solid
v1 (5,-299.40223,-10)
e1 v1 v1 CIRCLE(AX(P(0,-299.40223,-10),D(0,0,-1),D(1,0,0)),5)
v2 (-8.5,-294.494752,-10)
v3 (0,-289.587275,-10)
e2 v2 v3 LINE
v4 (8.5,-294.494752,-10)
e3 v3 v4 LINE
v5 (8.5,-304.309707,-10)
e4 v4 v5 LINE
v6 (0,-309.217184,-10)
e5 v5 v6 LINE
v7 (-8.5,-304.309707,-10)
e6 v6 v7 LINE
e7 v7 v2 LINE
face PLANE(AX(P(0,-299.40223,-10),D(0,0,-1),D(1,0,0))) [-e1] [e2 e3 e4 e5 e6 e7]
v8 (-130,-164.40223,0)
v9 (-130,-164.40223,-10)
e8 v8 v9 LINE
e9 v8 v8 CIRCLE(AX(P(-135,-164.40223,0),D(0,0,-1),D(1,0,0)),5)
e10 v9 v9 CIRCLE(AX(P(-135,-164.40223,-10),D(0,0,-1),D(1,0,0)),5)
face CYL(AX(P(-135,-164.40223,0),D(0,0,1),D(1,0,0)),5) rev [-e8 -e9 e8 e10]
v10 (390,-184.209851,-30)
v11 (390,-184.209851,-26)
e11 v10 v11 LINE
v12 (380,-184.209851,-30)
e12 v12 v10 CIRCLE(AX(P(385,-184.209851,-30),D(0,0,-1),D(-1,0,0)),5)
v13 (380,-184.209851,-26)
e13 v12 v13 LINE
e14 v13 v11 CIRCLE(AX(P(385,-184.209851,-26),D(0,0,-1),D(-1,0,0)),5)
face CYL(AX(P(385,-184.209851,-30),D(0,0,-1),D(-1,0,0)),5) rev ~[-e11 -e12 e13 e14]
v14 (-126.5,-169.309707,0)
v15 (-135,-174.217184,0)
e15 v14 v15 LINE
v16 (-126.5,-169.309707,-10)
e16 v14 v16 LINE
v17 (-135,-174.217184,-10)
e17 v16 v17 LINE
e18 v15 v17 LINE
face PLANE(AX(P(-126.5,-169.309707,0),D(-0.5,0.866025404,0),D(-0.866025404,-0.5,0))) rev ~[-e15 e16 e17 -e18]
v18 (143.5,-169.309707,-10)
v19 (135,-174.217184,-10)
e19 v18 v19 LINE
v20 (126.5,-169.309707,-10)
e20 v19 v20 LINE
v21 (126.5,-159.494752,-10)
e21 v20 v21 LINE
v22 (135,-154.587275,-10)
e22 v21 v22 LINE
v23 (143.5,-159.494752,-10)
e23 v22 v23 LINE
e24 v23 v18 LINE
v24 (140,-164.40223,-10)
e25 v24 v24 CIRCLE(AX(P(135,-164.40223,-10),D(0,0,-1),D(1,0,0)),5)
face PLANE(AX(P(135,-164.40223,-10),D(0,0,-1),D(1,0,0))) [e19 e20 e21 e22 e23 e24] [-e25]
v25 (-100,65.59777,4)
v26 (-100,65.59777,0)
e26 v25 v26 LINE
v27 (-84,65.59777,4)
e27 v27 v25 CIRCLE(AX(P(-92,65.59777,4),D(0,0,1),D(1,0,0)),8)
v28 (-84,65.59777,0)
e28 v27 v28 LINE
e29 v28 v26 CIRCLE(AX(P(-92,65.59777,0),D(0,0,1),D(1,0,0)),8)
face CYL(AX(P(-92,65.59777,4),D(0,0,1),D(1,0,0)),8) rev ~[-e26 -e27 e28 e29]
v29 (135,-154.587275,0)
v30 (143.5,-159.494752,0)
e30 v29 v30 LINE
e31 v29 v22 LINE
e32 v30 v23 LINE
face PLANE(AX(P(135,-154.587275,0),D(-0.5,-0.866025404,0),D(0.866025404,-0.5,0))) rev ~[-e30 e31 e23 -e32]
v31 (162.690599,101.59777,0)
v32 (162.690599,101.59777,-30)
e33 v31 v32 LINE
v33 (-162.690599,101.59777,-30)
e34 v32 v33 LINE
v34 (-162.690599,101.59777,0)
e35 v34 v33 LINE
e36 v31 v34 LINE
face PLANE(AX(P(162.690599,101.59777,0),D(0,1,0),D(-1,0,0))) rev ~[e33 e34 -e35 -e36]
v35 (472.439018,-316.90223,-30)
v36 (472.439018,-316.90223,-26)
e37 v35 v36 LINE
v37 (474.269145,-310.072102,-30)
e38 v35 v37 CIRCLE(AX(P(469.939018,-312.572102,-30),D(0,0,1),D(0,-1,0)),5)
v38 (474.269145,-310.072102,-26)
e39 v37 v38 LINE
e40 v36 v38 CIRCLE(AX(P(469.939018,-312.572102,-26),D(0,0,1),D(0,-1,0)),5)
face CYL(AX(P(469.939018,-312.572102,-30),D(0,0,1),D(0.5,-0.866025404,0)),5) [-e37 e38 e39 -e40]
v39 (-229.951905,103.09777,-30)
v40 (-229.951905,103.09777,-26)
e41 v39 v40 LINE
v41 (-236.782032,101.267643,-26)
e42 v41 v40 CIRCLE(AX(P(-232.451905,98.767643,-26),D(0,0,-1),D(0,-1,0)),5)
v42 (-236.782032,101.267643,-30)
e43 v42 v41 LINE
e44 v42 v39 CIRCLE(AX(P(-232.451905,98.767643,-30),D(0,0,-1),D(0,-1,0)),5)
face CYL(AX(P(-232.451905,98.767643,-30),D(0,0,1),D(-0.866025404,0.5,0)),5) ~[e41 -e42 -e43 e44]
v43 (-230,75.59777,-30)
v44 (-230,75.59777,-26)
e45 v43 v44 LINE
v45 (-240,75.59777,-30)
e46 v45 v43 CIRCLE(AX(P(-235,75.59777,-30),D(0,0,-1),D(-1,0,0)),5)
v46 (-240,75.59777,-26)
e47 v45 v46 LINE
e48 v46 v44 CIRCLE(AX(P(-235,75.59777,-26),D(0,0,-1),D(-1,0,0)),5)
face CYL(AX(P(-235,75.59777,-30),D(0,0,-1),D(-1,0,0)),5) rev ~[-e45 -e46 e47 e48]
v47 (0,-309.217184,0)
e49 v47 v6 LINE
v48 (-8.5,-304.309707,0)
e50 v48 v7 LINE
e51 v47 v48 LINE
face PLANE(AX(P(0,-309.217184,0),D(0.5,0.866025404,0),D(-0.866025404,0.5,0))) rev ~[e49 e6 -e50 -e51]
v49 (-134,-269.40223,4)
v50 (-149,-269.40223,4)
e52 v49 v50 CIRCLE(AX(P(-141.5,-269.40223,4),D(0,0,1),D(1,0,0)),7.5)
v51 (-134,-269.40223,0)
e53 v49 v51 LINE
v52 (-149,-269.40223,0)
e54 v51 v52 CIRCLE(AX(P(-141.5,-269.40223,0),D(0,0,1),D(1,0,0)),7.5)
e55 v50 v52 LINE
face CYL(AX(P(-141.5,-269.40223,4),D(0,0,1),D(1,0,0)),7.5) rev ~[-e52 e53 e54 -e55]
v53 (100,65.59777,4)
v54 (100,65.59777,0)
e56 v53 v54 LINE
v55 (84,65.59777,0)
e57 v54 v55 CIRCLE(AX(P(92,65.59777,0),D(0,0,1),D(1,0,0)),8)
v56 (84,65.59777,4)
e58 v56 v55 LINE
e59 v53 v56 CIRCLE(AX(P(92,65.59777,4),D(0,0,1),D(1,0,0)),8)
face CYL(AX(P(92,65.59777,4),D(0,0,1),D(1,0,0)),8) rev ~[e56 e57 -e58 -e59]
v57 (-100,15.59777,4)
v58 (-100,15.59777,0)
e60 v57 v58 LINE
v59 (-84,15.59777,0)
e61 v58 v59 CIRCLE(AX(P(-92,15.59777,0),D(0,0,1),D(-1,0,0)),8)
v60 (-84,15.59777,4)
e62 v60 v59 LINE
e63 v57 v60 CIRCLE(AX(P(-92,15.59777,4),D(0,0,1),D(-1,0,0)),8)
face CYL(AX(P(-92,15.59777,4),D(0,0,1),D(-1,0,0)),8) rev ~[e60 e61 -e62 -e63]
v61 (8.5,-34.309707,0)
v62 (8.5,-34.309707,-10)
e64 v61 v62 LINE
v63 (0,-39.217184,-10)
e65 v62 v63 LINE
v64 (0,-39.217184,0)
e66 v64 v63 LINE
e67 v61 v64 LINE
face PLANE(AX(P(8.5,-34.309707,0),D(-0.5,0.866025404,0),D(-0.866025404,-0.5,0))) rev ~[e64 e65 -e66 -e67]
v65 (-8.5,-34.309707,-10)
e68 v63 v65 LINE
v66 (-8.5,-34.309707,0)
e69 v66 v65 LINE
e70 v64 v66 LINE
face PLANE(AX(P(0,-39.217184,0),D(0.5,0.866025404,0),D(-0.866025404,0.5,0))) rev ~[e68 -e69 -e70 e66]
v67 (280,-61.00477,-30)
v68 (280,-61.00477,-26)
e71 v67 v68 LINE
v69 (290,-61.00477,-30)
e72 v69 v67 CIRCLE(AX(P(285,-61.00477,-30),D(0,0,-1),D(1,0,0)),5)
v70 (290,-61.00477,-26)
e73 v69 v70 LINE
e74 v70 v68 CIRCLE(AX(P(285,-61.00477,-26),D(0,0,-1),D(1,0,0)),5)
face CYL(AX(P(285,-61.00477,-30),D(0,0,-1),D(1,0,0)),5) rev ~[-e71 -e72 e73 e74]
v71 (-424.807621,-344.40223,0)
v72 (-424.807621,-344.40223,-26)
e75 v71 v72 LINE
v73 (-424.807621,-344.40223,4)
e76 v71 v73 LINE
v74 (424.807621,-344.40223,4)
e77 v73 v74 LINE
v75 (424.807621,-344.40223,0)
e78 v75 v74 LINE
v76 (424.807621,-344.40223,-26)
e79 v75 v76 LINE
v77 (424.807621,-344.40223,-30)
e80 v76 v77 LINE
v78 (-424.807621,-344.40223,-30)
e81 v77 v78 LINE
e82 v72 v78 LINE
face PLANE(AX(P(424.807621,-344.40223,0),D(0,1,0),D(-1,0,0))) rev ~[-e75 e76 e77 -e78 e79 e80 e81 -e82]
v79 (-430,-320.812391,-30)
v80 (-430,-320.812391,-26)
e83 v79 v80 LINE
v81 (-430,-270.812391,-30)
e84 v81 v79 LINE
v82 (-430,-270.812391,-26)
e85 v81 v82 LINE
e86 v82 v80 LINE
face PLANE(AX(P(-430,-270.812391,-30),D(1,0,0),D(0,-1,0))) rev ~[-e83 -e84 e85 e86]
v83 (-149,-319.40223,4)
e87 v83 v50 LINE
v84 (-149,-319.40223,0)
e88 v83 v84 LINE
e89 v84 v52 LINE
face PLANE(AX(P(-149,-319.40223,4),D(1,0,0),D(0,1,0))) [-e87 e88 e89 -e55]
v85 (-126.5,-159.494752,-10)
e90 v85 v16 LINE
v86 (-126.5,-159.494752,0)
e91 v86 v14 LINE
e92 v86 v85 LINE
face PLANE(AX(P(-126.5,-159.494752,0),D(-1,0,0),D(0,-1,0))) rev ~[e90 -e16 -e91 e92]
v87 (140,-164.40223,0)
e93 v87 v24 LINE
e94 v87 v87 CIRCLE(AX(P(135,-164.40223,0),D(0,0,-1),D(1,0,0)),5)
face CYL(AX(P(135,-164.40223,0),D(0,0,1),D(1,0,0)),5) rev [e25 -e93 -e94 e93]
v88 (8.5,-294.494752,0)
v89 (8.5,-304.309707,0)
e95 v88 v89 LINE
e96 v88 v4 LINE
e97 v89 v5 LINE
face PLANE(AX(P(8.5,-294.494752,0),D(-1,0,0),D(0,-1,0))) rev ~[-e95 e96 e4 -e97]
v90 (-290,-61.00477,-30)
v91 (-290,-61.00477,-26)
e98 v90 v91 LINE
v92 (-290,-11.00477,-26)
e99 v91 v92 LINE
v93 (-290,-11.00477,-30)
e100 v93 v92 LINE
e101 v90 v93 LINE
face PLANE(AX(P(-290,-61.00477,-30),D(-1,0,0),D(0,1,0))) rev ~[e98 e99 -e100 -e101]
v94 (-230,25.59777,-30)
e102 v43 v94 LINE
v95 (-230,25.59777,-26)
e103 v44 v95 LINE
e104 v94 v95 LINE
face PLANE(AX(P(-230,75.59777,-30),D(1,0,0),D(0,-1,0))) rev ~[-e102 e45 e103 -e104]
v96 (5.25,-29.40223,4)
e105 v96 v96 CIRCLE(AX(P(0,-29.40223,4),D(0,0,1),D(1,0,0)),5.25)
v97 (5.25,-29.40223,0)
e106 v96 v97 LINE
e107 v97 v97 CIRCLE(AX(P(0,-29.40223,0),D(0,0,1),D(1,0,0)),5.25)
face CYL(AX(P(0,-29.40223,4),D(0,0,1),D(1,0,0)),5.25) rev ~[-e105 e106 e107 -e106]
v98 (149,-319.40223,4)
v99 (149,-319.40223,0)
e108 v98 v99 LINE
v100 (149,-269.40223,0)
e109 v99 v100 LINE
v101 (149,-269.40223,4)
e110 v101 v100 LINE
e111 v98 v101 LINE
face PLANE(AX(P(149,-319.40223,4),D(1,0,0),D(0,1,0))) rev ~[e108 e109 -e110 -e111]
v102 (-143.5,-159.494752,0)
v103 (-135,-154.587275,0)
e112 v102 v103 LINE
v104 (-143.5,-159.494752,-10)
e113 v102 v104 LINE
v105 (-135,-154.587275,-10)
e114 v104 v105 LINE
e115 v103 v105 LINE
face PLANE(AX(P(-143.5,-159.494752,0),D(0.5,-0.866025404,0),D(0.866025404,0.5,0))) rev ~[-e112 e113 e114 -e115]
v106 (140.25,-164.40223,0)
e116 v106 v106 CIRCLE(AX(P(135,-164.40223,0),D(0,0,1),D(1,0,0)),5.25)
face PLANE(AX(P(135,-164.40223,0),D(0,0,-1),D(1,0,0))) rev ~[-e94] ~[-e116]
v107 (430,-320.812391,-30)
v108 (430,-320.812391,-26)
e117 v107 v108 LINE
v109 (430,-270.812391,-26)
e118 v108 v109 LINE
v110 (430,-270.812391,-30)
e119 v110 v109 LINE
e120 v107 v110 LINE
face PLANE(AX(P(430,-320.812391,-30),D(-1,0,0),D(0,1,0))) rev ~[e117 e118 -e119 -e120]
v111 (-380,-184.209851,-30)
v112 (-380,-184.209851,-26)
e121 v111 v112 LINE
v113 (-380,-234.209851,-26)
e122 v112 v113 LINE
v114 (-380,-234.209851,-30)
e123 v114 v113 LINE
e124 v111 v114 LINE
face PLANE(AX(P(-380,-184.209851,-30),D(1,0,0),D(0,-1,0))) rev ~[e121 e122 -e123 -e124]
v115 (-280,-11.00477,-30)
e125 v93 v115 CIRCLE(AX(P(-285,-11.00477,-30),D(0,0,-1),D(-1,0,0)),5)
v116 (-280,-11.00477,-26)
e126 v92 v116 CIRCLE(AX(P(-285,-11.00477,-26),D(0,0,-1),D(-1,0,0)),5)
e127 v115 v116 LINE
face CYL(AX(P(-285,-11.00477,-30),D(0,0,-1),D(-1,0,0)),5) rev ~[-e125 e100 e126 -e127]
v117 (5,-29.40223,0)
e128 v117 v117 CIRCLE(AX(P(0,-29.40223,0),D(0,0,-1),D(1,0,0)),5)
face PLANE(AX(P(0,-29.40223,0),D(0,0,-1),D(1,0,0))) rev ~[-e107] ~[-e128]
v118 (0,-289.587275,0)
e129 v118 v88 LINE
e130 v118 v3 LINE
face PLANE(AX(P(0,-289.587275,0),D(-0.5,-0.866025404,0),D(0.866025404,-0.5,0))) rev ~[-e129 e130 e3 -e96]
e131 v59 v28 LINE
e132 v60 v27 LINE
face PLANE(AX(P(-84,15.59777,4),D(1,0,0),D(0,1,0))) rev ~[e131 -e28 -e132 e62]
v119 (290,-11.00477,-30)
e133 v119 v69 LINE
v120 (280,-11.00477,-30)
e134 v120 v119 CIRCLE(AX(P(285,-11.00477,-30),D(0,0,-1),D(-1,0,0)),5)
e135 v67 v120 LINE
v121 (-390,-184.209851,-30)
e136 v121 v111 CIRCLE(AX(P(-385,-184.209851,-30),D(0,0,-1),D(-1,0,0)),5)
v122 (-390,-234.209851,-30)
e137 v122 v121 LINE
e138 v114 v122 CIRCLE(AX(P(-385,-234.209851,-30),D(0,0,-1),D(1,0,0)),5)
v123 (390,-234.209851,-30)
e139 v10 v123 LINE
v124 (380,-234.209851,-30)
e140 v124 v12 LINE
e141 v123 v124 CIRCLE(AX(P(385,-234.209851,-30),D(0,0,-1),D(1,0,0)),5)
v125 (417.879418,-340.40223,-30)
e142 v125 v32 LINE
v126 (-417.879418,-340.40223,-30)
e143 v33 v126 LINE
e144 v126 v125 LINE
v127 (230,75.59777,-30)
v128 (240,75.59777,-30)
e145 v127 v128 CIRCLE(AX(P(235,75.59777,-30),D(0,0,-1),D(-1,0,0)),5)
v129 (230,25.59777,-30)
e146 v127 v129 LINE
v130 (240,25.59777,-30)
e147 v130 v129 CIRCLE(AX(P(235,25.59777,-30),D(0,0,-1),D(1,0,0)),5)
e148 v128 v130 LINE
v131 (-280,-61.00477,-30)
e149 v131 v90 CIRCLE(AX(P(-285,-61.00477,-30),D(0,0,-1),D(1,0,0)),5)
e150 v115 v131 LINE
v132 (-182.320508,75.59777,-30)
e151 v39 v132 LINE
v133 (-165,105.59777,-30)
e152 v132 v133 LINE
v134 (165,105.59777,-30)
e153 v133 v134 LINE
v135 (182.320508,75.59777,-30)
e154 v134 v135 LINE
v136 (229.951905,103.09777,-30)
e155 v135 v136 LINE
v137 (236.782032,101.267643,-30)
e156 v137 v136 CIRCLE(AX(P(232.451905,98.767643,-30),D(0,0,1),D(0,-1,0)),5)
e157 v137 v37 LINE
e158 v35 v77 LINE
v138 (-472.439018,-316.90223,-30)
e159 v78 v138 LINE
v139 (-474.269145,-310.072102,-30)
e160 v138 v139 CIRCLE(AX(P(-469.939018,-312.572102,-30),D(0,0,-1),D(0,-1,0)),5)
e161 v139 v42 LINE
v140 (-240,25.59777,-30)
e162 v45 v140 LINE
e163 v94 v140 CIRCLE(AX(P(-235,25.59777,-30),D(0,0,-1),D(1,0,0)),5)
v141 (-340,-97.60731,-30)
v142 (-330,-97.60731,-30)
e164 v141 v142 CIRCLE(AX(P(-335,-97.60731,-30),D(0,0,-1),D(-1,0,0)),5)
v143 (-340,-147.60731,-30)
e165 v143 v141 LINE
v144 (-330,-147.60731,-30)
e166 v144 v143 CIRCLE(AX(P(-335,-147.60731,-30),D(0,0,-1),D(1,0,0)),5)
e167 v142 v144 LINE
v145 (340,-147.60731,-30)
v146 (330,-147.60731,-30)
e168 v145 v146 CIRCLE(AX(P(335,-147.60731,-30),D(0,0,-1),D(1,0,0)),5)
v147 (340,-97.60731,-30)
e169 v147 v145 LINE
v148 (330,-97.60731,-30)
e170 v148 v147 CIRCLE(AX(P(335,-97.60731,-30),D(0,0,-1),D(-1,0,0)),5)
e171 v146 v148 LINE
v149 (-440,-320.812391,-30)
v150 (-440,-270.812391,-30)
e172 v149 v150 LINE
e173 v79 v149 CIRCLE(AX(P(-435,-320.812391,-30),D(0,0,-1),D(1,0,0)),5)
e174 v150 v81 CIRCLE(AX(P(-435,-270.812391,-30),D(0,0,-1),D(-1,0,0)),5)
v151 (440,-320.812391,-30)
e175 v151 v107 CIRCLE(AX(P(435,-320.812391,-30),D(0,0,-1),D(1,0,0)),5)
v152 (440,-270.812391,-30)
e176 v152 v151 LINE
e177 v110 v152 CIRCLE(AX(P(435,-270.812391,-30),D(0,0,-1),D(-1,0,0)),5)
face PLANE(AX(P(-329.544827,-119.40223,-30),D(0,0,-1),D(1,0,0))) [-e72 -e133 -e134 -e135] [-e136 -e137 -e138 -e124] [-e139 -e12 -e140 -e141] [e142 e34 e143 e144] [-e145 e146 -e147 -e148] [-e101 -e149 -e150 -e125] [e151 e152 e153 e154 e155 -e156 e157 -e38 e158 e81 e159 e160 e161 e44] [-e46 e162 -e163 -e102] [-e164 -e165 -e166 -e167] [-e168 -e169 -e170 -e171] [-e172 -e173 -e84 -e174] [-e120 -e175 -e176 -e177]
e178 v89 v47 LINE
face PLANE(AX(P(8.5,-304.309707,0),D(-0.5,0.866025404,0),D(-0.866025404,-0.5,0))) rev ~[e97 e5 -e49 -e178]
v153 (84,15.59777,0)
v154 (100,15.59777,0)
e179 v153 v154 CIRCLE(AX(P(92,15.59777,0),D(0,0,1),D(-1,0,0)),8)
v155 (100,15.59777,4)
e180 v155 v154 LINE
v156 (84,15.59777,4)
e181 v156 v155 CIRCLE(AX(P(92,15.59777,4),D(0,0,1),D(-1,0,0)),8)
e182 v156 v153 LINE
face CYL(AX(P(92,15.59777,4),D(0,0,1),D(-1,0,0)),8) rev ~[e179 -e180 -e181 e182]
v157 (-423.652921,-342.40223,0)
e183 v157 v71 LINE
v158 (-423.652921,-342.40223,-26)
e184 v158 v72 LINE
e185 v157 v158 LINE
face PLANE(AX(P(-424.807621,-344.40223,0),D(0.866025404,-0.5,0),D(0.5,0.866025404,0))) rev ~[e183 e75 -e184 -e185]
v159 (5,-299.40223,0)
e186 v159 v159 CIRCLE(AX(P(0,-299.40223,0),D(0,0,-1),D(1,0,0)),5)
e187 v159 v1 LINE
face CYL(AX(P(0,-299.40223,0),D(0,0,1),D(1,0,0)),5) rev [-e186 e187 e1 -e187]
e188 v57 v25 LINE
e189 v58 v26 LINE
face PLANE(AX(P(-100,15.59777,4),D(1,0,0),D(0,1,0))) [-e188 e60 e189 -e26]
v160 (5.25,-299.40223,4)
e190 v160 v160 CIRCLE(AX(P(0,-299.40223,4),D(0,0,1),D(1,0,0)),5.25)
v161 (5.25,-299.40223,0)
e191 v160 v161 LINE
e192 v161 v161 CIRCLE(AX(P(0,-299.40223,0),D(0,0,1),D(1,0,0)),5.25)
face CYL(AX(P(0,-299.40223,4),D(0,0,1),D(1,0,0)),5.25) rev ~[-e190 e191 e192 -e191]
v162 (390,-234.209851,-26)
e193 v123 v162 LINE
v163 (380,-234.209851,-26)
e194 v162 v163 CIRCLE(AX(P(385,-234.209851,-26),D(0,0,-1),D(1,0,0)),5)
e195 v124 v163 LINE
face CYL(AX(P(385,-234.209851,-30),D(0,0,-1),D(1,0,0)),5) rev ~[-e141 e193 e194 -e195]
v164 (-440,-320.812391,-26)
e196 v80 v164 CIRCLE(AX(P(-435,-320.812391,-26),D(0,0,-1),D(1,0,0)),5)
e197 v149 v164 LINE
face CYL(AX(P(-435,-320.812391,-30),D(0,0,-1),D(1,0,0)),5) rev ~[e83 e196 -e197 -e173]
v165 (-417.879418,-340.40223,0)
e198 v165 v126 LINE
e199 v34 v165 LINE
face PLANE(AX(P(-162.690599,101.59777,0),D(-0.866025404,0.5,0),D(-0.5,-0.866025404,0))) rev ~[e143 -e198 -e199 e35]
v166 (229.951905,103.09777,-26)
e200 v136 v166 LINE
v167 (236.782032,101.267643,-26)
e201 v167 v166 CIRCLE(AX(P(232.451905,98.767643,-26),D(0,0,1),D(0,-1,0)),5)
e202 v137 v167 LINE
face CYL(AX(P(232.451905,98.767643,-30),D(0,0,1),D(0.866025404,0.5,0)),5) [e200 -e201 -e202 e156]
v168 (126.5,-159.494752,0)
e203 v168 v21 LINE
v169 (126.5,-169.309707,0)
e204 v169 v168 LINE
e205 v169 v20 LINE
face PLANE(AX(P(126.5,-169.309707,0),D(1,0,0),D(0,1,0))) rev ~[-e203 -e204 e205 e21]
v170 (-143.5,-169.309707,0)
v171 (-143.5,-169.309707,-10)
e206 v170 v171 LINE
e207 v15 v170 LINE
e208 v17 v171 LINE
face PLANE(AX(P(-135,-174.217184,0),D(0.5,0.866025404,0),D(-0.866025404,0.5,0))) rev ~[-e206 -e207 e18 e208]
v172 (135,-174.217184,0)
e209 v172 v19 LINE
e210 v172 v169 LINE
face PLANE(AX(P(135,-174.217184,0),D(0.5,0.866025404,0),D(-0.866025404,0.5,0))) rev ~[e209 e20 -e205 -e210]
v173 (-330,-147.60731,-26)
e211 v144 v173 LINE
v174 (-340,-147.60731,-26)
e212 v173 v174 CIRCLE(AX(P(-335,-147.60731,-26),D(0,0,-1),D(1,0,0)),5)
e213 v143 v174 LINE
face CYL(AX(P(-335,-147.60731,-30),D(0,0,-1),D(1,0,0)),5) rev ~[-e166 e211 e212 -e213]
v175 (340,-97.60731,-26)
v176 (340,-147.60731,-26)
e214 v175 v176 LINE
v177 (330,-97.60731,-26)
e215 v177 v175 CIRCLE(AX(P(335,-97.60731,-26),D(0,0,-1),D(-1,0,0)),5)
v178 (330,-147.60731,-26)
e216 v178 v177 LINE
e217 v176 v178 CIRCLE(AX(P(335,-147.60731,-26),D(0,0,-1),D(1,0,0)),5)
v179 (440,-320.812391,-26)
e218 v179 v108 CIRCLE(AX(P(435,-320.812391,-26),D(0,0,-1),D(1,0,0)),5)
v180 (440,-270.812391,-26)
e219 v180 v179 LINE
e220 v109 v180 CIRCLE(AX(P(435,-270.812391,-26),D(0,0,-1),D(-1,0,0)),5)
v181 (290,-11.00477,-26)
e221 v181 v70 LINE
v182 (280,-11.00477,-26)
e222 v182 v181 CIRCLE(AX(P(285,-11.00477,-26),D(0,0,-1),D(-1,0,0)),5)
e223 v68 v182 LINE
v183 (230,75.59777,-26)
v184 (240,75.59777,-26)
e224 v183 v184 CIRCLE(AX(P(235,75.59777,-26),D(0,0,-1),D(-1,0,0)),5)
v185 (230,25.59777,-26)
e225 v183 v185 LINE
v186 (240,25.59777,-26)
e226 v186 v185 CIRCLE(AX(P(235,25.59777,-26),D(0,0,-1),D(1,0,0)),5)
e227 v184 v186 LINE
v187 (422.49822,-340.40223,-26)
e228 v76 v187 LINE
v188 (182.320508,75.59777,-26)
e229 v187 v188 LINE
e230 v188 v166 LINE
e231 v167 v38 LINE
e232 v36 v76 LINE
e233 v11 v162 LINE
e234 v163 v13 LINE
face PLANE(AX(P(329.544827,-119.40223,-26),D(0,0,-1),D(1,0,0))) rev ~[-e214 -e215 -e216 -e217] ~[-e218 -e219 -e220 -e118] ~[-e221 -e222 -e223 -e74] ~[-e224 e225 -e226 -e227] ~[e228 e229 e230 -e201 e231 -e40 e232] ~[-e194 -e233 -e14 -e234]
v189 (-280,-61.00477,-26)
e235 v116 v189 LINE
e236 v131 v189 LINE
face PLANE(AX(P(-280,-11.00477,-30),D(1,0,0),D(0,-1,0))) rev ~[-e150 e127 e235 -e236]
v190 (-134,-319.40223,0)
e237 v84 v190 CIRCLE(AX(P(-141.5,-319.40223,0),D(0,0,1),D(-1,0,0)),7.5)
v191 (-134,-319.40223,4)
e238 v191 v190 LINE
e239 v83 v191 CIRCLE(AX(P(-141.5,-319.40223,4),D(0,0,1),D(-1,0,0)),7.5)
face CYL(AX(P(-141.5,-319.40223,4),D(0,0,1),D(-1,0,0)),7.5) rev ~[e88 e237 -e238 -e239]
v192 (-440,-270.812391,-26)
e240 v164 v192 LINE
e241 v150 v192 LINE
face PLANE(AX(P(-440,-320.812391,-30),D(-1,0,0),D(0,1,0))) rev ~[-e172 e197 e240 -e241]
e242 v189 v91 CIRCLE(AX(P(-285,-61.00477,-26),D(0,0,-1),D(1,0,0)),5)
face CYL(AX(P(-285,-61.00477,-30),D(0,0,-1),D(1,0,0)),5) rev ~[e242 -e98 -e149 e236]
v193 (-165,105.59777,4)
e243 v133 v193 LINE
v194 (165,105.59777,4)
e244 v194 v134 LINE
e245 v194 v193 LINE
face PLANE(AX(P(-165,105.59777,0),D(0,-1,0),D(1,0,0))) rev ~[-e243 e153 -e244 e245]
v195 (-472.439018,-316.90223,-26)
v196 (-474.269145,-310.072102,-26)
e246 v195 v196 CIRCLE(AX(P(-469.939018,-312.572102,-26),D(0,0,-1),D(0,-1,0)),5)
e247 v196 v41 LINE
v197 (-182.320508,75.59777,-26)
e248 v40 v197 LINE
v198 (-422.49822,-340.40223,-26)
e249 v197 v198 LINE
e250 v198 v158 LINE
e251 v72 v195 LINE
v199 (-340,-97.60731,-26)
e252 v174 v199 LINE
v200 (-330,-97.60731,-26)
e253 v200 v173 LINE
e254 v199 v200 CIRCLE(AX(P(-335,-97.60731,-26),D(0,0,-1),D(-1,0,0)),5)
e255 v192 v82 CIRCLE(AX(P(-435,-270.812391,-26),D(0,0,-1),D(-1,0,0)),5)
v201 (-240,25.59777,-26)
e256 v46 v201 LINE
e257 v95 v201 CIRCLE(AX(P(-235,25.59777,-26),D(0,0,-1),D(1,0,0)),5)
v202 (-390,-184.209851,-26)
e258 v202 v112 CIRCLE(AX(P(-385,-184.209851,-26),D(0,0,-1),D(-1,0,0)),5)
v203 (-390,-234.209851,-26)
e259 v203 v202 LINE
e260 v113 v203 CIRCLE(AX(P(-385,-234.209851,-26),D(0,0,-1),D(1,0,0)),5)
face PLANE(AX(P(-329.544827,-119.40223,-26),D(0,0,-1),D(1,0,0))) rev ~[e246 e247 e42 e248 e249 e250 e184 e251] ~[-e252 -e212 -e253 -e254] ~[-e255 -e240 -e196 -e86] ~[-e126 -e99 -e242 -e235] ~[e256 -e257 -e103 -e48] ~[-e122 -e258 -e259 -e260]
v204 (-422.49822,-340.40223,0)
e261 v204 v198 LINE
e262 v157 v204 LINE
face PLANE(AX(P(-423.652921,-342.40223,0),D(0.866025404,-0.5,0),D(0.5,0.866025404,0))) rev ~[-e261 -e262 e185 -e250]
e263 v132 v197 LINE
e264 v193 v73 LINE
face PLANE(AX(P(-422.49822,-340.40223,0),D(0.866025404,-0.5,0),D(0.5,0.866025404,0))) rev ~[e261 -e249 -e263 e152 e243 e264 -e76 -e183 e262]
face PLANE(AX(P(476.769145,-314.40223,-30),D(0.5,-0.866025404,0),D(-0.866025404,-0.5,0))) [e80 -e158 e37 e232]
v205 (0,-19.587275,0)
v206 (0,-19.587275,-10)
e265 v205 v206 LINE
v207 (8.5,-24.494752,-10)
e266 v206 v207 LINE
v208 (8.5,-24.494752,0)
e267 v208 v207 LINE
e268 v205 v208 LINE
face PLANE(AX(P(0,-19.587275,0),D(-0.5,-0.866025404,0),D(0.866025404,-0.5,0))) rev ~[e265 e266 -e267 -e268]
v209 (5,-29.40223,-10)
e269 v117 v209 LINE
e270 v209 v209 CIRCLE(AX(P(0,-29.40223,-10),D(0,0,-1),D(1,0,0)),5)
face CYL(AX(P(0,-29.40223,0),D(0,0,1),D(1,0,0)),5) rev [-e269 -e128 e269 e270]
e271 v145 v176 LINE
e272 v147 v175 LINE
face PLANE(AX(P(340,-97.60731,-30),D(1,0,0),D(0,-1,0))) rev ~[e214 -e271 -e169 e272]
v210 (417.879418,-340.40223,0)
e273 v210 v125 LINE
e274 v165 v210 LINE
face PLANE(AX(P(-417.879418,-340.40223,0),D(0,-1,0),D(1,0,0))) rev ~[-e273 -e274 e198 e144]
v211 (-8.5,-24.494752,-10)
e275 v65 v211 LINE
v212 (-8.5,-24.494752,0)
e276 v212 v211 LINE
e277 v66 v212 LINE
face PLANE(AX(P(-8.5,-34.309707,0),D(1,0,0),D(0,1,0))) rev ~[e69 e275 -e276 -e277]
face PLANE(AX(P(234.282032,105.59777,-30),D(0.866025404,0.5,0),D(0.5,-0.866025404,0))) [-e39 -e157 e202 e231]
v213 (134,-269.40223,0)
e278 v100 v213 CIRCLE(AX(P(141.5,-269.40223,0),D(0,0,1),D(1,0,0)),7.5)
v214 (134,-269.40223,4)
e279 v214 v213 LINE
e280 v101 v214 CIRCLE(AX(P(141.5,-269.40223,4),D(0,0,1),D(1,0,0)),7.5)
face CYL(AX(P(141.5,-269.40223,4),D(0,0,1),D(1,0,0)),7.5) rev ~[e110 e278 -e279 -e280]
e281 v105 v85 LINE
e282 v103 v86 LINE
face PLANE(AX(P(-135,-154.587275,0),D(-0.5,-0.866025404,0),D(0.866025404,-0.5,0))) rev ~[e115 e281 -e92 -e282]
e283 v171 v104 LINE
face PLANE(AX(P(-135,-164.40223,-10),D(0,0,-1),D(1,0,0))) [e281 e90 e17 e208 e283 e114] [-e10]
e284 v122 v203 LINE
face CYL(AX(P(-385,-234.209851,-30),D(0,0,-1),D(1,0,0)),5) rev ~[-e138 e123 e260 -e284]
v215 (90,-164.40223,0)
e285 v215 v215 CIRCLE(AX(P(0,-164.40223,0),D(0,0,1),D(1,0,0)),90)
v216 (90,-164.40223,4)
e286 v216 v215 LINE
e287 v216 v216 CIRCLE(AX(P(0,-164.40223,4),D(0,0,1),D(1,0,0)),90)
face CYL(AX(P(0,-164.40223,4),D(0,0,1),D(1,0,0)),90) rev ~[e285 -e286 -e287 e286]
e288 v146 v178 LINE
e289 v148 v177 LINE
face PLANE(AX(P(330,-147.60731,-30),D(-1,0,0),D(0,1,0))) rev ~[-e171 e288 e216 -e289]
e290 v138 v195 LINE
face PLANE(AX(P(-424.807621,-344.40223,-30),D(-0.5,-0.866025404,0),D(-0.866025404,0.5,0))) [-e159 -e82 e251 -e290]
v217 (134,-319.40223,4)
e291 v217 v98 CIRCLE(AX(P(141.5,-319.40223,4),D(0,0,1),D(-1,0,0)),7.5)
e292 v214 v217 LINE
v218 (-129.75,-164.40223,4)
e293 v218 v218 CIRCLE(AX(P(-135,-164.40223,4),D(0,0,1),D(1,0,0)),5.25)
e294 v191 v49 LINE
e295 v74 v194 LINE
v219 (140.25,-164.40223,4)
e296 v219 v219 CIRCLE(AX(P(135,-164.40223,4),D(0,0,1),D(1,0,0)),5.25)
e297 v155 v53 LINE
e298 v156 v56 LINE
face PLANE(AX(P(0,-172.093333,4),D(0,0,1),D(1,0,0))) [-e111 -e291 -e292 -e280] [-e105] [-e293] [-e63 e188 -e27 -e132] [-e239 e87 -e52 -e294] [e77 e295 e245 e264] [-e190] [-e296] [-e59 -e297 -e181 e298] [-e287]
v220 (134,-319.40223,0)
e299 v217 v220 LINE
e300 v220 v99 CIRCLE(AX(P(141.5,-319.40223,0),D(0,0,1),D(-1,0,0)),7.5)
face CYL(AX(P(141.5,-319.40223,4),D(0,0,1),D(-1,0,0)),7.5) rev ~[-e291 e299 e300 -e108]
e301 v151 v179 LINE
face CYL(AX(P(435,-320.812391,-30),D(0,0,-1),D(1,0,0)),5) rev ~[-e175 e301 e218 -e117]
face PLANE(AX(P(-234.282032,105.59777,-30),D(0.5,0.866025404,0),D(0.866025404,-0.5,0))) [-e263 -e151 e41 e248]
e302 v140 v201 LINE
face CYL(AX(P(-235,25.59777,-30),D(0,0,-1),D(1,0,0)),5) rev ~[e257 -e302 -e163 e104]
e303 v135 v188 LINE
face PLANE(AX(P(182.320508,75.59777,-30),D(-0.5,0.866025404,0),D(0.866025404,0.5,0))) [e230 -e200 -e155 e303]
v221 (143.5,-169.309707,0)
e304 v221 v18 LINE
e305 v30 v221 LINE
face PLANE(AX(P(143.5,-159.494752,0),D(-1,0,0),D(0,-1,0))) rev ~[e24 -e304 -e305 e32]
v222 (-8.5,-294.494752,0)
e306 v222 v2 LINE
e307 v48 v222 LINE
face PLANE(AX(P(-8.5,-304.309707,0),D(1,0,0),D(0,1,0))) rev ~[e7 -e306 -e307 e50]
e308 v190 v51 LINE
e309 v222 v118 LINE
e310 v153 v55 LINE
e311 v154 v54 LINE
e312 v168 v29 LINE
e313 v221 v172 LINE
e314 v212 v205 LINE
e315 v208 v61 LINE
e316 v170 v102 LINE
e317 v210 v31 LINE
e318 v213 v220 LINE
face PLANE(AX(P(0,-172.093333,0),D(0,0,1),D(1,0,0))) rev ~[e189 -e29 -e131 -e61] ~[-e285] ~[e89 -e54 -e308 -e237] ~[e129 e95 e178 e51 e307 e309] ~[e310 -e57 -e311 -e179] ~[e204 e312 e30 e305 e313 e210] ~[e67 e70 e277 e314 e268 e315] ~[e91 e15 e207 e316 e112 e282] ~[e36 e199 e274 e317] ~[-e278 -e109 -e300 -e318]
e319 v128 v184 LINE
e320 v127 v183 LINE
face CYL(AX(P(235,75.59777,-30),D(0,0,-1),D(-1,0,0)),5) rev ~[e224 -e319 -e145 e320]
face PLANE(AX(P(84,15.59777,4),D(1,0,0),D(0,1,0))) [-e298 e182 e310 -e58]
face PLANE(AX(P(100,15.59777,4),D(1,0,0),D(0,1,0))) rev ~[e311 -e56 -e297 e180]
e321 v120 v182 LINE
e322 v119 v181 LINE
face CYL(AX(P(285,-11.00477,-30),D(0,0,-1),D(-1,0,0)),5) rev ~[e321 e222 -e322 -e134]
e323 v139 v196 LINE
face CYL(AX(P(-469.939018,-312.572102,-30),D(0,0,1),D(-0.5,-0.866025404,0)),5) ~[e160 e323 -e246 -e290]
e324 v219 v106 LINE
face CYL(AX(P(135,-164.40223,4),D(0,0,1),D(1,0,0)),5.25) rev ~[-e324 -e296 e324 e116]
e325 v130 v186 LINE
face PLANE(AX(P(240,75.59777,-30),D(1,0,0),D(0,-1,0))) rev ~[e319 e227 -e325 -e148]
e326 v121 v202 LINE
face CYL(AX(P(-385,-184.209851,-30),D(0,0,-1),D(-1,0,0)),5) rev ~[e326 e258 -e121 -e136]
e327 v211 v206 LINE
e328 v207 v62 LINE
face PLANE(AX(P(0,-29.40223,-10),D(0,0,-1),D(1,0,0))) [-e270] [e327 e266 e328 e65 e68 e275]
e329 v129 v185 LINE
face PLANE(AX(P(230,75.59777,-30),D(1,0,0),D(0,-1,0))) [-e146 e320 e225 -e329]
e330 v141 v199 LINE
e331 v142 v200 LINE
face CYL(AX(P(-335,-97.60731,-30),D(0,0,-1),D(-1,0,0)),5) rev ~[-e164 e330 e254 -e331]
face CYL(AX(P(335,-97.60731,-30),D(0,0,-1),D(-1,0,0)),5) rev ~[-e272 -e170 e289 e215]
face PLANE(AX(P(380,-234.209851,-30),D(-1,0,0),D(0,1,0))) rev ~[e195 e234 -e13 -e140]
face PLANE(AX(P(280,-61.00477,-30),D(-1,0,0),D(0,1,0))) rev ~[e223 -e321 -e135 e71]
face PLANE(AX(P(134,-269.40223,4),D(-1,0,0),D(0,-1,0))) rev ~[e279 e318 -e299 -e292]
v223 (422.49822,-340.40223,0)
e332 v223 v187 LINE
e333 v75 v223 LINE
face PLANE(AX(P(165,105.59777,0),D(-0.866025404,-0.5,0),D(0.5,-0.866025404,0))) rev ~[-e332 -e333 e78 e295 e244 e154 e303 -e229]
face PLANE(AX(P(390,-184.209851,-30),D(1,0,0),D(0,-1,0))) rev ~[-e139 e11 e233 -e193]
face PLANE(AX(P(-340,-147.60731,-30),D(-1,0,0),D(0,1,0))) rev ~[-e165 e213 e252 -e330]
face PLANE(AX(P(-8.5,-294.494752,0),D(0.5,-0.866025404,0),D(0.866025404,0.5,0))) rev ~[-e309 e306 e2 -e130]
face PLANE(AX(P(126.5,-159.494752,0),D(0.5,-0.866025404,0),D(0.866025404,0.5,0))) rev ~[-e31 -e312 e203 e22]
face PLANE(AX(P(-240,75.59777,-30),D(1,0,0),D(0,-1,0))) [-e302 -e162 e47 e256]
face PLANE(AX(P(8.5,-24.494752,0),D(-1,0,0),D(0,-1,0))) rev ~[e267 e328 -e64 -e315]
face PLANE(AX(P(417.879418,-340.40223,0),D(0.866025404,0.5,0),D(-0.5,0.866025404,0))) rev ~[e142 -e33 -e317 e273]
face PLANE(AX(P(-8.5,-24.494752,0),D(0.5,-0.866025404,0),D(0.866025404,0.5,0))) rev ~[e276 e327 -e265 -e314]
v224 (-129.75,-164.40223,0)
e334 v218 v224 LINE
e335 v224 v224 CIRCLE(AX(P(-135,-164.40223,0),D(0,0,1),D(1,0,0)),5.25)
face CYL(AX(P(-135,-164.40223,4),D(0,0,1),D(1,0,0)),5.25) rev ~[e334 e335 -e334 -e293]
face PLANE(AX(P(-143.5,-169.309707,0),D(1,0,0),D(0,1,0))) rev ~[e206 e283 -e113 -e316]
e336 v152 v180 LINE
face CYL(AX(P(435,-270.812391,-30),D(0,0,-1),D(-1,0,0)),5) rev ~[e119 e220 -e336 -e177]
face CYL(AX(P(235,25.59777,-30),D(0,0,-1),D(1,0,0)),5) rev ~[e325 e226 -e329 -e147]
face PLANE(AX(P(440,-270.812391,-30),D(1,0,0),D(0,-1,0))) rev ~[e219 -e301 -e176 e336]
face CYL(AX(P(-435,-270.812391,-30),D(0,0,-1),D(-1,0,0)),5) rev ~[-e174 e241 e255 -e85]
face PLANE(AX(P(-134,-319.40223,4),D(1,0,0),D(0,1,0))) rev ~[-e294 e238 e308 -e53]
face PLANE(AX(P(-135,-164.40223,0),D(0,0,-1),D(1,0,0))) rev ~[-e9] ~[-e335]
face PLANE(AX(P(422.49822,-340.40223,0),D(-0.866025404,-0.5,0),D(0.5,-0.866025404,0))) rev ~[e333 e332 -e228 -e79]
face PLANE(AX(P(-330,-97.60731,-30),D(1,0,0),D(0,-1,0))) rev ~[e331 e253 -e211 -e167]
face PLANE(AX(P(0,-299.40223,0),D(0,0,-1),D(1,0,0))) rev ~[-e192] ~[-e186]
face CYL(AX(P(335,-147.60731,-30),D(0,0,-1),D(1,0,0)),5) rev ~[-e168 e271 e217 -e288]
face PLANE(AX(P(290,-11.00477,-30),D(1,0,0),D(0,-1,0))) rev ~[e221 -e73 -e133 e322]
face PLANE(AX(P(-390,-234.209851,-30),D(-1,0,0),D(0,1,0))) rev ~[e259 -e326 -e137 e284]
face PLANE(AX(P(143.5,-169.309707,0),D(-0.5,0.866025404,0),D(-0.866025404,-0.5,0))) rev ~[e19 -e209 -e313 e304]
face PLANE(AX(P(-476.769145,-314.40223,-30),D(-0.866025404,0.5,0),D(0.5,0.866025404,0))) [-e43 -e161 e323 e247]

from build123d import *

# Parameters (mm, degrees)
F1_DEPTH  = 4
F2_R      = 5.25
F2_R_2    = 90
F2_W      = 16
F2_H      = 50
F3_DEPTH  = 25
F5_DEPTH  = 30
F7_DEPTH  = 4
F8_W      = 10
F8_H      = 50
F8_R      = 5.25
F9_DEPTH  = 34.001
F10_R     = 5
F11_R     = 5
F12_DEPTH = 10
F13_W     = 15
F13_H     = 50
F14_DEPTH = 34.001


with BuildPart() as f1:
    # F0 (on Top) → F1 (new body)
    with BuildSketch(Plane.XY):
        Polygon((-424.8076211353, -344.4022295104), (0, -344.4022295104), (424.8076211353, -344.4022295104), (165, 105.5977704896), (0, 105.5977704896), (-165, 105.5977704896), align=None)
    extrude(amount=F1_DEPTH)

    # F2 (on face) → F3 (cut)
    with BuildSketch(Plane.XY.offset(4)):
        with Locations((0, -29.4022295104)):
            Circle(F2_R)
        with Locations((0, -299.4022295104)):
            Circle(F2_R)
        with Locations((-135, -164.4022295104)):
            Circle(F2_R)
        with Locations((135, -164.4022295104)):
            Circle(F2_R)
        with Locations((0, -164.4022295104)):
            Circle(F2_R_2)
        with BuildLine():
            ThreePointArc((-100, 15.5977704896), (-92, 7.5977704896), (-84, 15.5977704896))
            Line((-84, 15.5977704896), (-100, 15.5977704896))
        make_face()
        with Locations((-92, 40.5977704896)):
            Rectangle(F2_W, F2_H)
        with BuildLine():
            Line((-100, 65.5977704896), (-84, 65.5977704896))
            ThreePointArc((-84, 65.5977704896), (-92, 73.5977704896), (-100, 65.5977704896))
        make_face()
        with Locations((92, 40.5977704896)):
            Rectangle(F2_W, F2_H)
        with BuildLine():
            Line((100, 15.5977704896), (84, 15.5977704896))
            ThreePointArc((84, 15.5977704896), (92, 7.5977704896), (100, 15.5977704896))
        make_face()
        with BuildLine():
            ThreePointArc((100, 65.5977704896), (92, 73.5977704896), (84, 65.5977704896))
            Line((84, 65.5977704896), (100, 65.5977704896))
        make_face()
    extrude(amount=-F3_DEPTH, mode=Mode.SUBTRACT)

    # F4 (on face) → F5 (join)
    with BuildSketch(Plane(origin=(0, 0, 0), x_dir=(1, 0, 0), z_dir=(0, 0, -1))):
        Polygon((-161.5358983849, -103.5977704896), (-165, -105.5977704896), (165, -105.5977704896), (161.5358983849, -103.5977704896), (162.6905989232, -101.5977704896), (-162.6905989232, -101.5977704896), align=None)
        Polygon((-422.4982200586, 340.4022295104), (-165, -105.5977704896), (-165, -101.5977704896), (-162.6905989232, -101.5977704896), (-417.8794179051, 340.4022295104), align=None)
        Polygon((-165, -101.5977704896), (-165, -105.5977704896), (-161.5358983849, -103.5977704896), (-162.6905989232, -101.5977704896), align=None)
        Polygon((161.5358983849, -103.5977704896), (165, -105.5977704896), (165, -101.5977704896), (162.6905989232, -101.5977704896), align=None)
        Polygon((165, -101.5977704896), (165, -105.5977704896), (422.4982200586, 340.4022295104), (417.8794179051, 340.4022295104), (162.6905989232, -101.5977704896), align=None)
        Polygon((-423.652920597, 342.4022295104), (-422.4982200586, 340.4022295104), (-417.8794179051, 340.4022295104), (-420.1888189818, 344.4022295104), align=None)
        Polygon((417.8794179051, 340.4022295104), (422.4982200586, 340.4022295104), (424.8076211353, 344.4022295104), (420.1888189818, 344.4022295104), align=None)
        Polygon((-420.1888189818, 344.4022295104), (-417.8794179051, 340.4022295104), (417.8794179051, 340.4022295104), (420.1888189818, 344.4022295104), align=None)
        Polygon((-424.8076211353, 344.4022295104), (-423.652920597, 342.4022295104), (-420.1888189818, 344.4022295104), align=None)
    extrude(amount=F5_DEPTH)

    # F6 (on face) → F7 (join)
    with BuildSketch(Plane(origin=(0, 0, -30), x_dir=(1, 0, 0), z_dir=(0, 0, -1))):
        Polygon((-424.8076211353, 344.4022295104), (-476.7691453624, 314.4022295104), (-234.2820323028, -105.5977704896), (-182.3205080757, -75.5977704896), align=None)
        Polygon((234.2820323028, -105.5977704896), (476.7691453624, 314.4022295104), (424.8076211353, 344.4022295104), (182.3205080757, -75.5977704896), align=None)
    extrude(amount=-F7_DEPTH)

    # F8 (on face) → F9 (cut, through all)
    with BuildSketch(Plane(origin=(0, 0, -30), x_dir=(1, 0, 0), z_dir=(0, 0, -1))):
        with BuildLine():
            ThreePointArc((-240, -75.5977704896), (-235, -80.5977704896), (-230, -75.5977704896))
            Line((-230, -75.5977704896), (-240, -75.5977704896))
        make_face()
        with Locations((-235, -50.5977704896)):
            Rectangle(F8_W, F8_H)
        with BuildLine():
            Line((-240, -25.5977704896), (-230, -25.5977704896))
            ThreePointArc((-230, -25.5977704896), (-235, -20.5977704896), (-240, -25.5977704896))
        make_face()
        with Locations((0, 29.4022295104)):
            Circle(F8_R)
        with BuildLine():
            ThreePointArc((-290, 11.0047698888), (-285, 6.0047698888), (-280, 11.0047698888))
            Line((-280, 11.0047698888), (-280, 61.0047698888))
            ThreePointArc((-280, 61.0047698888), (-285, 66.0047698888), (-290, 61.0047698888))
            Line((-290, 61.0047698888), (-290, 11.0047698888))
        make_face()
        with BuildLine():
            ThreePointArc((-340, 97.6073102673), (-335, 92.6073102673), (-330, 97.6073102673))
            Line((-330, 97.6073102673), (-330, 147.6073102673))
            ThreePointArc((-330, 147.6073102673), (-335, 152.6073102673), (-340, 147.6073102673))
            Line((-340, 147.6073102673), (-340, 97.6073102673))
        make_face()
        with BuildLine():
            ThreePointArc((-390, 184.2098506457), (-385, 179.2098506457), (-380, 184.2098506457))
            Line((-380, 184.2098506457), (-380, 234.2098506457))
            ThreePointArc((-380, 234.2098506457), (-385, 239.2098506457), (-390, 234.2098506457))
            Line((-390, 234.2098506457), (-390, 184.2098506457))
        make_face()
        with BuildLine():
            ThreePointArc((-440, 270.8123910242), (-435, 265.8123910242), (-430, 270.8123910242))
            Line((-430, 270.8123910242), (-430, 320.8123910242))
            ThreePointArc((-430, 320.8123910242), (-435, 325.8123910242), (-440, 320.8123910242))
            Line((-440, 320.8123910242), (-440, 270.8123910242))
        make_face()
        with BuildLine():
            ThreePointArc((380, 184.2098506457), (385, 179.2098506457), (390, 184.2098506457))
            Line((390, 184.2098506457), (390, 234.2098506457))
            ThreePointArc((390, 234.2098506457), (385, 239.2098506457), (380, 234.2098506457))
            Line((380, 234.2098506457), (380, 184.2098506457))
        make_face()
        with BuildLine():
            ThreePointArc((430, 270.8123910242), (435, 265.8123910242), (440, 270.8123910242))
            Line((440, 270.8123910242), (440, 320.8123910242))
            ThreePointArc((440, 320.8123910242), (435, 325.8123910242), (430, 320.8123910242))
            Line((430, 320.8123910242), (430, 270.8123910242))
        make_face()
        with BuildLine():
            ThreePointArc((340, 147.6073102673), (335, 152.6073102673), (330, 147.6073102673))
            Line((330, 147.6073102673), (330, 97.6073102673))
            ThreePointArc((330, 97.6073102673), (335, 92.6073102673), (340, 97.6073102673))
            Line((340, 97.6073102673), (340, 147.6073102673))
        make_face()
        with Locations((235, -50.5977704896)):
            Rectangle(F8_W, F8_H)
        with BuildLine():
            Line((240, -75.5977704896), (230, -75.5977704896))
            ThreePointArc((230, -75.5977704896), (235, -80.5977704896), (240, -75.5977704896))
        make_face()
        with BuildLine():
            ThreePointArc((240, -25.5977704896), (235, -20.5977704896), (230, -25.5977704896))
            Line((230, -25.5977704896), (240, -25.5977704896))
        make_face()
        with BuildLine():
            ThreePointArc((280, 11.0047698888), (285, 6.0047698888), (290, 11.0047698888))
            Line((290, 11.0047698888), (290, 61.0047698888))
            ThreePointArc((290, 61.0047698888), (285, 66.0047698888), (280, 61.0047698888))
            Line((280, 61.0047698888), (280, 11.0047698888))
        make_face()
    extrude(amount=-F9_DEPTH, mode=Mode.SUBTRACT)

    # F10
    f10_edges = [f1.edges().sort_by_distance(p)[0] for p in [
        (-476.769145, -314.40223, -28),
        (-234.282032, 105.59777, -28),
        (234.282032, 105.59777, -28),
        (476.769145, -314.40223, -28),
    ]]
    fillet(f10_edges, radius=F10_R)

    # F11 (on face) → F12 (join)
    with BuildSketch(Plane(origin=(0, 0, 0), x_dir=(1, 0, 0), z_dir=(0, 0, -1))):
        Polygon((-135, 154.5872749342), (-126.5, 159.4947522223), (-126.5, 169.3097067985), (-135, 174.2171840866), (-143.5, 169.3097067985), (-143.5, 159.4947522223), align=None)
        with Locations((-135, 164.4022295104)):
            Circle(F11_R, mode=Mode.SUBTRACT)
        Polygon((126.5, 159.4947522223), (135, 154.5872749342), (143.5, 159.4947522223), (143.5, 169.3097067985), (135, 174.2171840866), (126.5, 169.3097067985), align=None)
        with Locations((135, 164.4022295104)):
            Circle(F11_R, mode=Mode.SUBTRACT)
        Polygon((-8.5, 294.4947522223), (0, 289.5872749342), (8.5, 294.4947522223), (8.5, 304.3097067985), (0, 309.2171840866), (-8.5, 304.3097067985), align=None)
        with Locations((0, 299.4022295104)):
            Circle(F11_R, mode=Mode.SUBTRACT)
        Polygon((0, 19.5872749342), (8.5, 24.4947522223), (8.5, 34.3097067985), (0, 39.2171840866), (-8.5, 34.3097067985), (-8.5, 24.4947522223), align=None)
        with Locations((0, 29.4022295104)):
            Circle(F11_R, mode=Mode.SUBTRACT)
    extrude(amount=F12_DEPTH)

    # F13 (on face) → F14 (cut, through all)
    with BuildSketch(Plane.XY.offset(4)):
        with BuildLine():
            ThreePointArc((-149, -319.4022295104), (-141.5, -326.9022295104), (-134, -319.4022295104))
            Line((-134, -319.4022295104), (-149, -319.4022295104))
        make_face()
        with Locations((-141.5, -294.4022295104)):
            Rectangle(F13_W, F13_H)
        with BuildLine():
            Line((-149, -269.4022295104), (-134, -269.4022295104))
            ThreePointArc((-134, -269.4022295104), (-141.5, -261.9022295104), (-149, -269.4022295104))
        make_face()
        with BuildLine():
            ThreePointArc((149, -269.4022295104), (141.5, -261.9022295104), (134, -269.4022295104))
            Line((134, -269.4022295104), (134, -319.4022295104))
            ThreePointArc((134, -319.4022295104), (141.5, -326.9022295104), (149, -319.4022295104))
            Line((149, -319.4022295104), (149, -269.4022295104))
        make_face()
    extrude(amount=-F14_DEPTH, mode=Mode.SUBTRACT)


solid = f1.part
